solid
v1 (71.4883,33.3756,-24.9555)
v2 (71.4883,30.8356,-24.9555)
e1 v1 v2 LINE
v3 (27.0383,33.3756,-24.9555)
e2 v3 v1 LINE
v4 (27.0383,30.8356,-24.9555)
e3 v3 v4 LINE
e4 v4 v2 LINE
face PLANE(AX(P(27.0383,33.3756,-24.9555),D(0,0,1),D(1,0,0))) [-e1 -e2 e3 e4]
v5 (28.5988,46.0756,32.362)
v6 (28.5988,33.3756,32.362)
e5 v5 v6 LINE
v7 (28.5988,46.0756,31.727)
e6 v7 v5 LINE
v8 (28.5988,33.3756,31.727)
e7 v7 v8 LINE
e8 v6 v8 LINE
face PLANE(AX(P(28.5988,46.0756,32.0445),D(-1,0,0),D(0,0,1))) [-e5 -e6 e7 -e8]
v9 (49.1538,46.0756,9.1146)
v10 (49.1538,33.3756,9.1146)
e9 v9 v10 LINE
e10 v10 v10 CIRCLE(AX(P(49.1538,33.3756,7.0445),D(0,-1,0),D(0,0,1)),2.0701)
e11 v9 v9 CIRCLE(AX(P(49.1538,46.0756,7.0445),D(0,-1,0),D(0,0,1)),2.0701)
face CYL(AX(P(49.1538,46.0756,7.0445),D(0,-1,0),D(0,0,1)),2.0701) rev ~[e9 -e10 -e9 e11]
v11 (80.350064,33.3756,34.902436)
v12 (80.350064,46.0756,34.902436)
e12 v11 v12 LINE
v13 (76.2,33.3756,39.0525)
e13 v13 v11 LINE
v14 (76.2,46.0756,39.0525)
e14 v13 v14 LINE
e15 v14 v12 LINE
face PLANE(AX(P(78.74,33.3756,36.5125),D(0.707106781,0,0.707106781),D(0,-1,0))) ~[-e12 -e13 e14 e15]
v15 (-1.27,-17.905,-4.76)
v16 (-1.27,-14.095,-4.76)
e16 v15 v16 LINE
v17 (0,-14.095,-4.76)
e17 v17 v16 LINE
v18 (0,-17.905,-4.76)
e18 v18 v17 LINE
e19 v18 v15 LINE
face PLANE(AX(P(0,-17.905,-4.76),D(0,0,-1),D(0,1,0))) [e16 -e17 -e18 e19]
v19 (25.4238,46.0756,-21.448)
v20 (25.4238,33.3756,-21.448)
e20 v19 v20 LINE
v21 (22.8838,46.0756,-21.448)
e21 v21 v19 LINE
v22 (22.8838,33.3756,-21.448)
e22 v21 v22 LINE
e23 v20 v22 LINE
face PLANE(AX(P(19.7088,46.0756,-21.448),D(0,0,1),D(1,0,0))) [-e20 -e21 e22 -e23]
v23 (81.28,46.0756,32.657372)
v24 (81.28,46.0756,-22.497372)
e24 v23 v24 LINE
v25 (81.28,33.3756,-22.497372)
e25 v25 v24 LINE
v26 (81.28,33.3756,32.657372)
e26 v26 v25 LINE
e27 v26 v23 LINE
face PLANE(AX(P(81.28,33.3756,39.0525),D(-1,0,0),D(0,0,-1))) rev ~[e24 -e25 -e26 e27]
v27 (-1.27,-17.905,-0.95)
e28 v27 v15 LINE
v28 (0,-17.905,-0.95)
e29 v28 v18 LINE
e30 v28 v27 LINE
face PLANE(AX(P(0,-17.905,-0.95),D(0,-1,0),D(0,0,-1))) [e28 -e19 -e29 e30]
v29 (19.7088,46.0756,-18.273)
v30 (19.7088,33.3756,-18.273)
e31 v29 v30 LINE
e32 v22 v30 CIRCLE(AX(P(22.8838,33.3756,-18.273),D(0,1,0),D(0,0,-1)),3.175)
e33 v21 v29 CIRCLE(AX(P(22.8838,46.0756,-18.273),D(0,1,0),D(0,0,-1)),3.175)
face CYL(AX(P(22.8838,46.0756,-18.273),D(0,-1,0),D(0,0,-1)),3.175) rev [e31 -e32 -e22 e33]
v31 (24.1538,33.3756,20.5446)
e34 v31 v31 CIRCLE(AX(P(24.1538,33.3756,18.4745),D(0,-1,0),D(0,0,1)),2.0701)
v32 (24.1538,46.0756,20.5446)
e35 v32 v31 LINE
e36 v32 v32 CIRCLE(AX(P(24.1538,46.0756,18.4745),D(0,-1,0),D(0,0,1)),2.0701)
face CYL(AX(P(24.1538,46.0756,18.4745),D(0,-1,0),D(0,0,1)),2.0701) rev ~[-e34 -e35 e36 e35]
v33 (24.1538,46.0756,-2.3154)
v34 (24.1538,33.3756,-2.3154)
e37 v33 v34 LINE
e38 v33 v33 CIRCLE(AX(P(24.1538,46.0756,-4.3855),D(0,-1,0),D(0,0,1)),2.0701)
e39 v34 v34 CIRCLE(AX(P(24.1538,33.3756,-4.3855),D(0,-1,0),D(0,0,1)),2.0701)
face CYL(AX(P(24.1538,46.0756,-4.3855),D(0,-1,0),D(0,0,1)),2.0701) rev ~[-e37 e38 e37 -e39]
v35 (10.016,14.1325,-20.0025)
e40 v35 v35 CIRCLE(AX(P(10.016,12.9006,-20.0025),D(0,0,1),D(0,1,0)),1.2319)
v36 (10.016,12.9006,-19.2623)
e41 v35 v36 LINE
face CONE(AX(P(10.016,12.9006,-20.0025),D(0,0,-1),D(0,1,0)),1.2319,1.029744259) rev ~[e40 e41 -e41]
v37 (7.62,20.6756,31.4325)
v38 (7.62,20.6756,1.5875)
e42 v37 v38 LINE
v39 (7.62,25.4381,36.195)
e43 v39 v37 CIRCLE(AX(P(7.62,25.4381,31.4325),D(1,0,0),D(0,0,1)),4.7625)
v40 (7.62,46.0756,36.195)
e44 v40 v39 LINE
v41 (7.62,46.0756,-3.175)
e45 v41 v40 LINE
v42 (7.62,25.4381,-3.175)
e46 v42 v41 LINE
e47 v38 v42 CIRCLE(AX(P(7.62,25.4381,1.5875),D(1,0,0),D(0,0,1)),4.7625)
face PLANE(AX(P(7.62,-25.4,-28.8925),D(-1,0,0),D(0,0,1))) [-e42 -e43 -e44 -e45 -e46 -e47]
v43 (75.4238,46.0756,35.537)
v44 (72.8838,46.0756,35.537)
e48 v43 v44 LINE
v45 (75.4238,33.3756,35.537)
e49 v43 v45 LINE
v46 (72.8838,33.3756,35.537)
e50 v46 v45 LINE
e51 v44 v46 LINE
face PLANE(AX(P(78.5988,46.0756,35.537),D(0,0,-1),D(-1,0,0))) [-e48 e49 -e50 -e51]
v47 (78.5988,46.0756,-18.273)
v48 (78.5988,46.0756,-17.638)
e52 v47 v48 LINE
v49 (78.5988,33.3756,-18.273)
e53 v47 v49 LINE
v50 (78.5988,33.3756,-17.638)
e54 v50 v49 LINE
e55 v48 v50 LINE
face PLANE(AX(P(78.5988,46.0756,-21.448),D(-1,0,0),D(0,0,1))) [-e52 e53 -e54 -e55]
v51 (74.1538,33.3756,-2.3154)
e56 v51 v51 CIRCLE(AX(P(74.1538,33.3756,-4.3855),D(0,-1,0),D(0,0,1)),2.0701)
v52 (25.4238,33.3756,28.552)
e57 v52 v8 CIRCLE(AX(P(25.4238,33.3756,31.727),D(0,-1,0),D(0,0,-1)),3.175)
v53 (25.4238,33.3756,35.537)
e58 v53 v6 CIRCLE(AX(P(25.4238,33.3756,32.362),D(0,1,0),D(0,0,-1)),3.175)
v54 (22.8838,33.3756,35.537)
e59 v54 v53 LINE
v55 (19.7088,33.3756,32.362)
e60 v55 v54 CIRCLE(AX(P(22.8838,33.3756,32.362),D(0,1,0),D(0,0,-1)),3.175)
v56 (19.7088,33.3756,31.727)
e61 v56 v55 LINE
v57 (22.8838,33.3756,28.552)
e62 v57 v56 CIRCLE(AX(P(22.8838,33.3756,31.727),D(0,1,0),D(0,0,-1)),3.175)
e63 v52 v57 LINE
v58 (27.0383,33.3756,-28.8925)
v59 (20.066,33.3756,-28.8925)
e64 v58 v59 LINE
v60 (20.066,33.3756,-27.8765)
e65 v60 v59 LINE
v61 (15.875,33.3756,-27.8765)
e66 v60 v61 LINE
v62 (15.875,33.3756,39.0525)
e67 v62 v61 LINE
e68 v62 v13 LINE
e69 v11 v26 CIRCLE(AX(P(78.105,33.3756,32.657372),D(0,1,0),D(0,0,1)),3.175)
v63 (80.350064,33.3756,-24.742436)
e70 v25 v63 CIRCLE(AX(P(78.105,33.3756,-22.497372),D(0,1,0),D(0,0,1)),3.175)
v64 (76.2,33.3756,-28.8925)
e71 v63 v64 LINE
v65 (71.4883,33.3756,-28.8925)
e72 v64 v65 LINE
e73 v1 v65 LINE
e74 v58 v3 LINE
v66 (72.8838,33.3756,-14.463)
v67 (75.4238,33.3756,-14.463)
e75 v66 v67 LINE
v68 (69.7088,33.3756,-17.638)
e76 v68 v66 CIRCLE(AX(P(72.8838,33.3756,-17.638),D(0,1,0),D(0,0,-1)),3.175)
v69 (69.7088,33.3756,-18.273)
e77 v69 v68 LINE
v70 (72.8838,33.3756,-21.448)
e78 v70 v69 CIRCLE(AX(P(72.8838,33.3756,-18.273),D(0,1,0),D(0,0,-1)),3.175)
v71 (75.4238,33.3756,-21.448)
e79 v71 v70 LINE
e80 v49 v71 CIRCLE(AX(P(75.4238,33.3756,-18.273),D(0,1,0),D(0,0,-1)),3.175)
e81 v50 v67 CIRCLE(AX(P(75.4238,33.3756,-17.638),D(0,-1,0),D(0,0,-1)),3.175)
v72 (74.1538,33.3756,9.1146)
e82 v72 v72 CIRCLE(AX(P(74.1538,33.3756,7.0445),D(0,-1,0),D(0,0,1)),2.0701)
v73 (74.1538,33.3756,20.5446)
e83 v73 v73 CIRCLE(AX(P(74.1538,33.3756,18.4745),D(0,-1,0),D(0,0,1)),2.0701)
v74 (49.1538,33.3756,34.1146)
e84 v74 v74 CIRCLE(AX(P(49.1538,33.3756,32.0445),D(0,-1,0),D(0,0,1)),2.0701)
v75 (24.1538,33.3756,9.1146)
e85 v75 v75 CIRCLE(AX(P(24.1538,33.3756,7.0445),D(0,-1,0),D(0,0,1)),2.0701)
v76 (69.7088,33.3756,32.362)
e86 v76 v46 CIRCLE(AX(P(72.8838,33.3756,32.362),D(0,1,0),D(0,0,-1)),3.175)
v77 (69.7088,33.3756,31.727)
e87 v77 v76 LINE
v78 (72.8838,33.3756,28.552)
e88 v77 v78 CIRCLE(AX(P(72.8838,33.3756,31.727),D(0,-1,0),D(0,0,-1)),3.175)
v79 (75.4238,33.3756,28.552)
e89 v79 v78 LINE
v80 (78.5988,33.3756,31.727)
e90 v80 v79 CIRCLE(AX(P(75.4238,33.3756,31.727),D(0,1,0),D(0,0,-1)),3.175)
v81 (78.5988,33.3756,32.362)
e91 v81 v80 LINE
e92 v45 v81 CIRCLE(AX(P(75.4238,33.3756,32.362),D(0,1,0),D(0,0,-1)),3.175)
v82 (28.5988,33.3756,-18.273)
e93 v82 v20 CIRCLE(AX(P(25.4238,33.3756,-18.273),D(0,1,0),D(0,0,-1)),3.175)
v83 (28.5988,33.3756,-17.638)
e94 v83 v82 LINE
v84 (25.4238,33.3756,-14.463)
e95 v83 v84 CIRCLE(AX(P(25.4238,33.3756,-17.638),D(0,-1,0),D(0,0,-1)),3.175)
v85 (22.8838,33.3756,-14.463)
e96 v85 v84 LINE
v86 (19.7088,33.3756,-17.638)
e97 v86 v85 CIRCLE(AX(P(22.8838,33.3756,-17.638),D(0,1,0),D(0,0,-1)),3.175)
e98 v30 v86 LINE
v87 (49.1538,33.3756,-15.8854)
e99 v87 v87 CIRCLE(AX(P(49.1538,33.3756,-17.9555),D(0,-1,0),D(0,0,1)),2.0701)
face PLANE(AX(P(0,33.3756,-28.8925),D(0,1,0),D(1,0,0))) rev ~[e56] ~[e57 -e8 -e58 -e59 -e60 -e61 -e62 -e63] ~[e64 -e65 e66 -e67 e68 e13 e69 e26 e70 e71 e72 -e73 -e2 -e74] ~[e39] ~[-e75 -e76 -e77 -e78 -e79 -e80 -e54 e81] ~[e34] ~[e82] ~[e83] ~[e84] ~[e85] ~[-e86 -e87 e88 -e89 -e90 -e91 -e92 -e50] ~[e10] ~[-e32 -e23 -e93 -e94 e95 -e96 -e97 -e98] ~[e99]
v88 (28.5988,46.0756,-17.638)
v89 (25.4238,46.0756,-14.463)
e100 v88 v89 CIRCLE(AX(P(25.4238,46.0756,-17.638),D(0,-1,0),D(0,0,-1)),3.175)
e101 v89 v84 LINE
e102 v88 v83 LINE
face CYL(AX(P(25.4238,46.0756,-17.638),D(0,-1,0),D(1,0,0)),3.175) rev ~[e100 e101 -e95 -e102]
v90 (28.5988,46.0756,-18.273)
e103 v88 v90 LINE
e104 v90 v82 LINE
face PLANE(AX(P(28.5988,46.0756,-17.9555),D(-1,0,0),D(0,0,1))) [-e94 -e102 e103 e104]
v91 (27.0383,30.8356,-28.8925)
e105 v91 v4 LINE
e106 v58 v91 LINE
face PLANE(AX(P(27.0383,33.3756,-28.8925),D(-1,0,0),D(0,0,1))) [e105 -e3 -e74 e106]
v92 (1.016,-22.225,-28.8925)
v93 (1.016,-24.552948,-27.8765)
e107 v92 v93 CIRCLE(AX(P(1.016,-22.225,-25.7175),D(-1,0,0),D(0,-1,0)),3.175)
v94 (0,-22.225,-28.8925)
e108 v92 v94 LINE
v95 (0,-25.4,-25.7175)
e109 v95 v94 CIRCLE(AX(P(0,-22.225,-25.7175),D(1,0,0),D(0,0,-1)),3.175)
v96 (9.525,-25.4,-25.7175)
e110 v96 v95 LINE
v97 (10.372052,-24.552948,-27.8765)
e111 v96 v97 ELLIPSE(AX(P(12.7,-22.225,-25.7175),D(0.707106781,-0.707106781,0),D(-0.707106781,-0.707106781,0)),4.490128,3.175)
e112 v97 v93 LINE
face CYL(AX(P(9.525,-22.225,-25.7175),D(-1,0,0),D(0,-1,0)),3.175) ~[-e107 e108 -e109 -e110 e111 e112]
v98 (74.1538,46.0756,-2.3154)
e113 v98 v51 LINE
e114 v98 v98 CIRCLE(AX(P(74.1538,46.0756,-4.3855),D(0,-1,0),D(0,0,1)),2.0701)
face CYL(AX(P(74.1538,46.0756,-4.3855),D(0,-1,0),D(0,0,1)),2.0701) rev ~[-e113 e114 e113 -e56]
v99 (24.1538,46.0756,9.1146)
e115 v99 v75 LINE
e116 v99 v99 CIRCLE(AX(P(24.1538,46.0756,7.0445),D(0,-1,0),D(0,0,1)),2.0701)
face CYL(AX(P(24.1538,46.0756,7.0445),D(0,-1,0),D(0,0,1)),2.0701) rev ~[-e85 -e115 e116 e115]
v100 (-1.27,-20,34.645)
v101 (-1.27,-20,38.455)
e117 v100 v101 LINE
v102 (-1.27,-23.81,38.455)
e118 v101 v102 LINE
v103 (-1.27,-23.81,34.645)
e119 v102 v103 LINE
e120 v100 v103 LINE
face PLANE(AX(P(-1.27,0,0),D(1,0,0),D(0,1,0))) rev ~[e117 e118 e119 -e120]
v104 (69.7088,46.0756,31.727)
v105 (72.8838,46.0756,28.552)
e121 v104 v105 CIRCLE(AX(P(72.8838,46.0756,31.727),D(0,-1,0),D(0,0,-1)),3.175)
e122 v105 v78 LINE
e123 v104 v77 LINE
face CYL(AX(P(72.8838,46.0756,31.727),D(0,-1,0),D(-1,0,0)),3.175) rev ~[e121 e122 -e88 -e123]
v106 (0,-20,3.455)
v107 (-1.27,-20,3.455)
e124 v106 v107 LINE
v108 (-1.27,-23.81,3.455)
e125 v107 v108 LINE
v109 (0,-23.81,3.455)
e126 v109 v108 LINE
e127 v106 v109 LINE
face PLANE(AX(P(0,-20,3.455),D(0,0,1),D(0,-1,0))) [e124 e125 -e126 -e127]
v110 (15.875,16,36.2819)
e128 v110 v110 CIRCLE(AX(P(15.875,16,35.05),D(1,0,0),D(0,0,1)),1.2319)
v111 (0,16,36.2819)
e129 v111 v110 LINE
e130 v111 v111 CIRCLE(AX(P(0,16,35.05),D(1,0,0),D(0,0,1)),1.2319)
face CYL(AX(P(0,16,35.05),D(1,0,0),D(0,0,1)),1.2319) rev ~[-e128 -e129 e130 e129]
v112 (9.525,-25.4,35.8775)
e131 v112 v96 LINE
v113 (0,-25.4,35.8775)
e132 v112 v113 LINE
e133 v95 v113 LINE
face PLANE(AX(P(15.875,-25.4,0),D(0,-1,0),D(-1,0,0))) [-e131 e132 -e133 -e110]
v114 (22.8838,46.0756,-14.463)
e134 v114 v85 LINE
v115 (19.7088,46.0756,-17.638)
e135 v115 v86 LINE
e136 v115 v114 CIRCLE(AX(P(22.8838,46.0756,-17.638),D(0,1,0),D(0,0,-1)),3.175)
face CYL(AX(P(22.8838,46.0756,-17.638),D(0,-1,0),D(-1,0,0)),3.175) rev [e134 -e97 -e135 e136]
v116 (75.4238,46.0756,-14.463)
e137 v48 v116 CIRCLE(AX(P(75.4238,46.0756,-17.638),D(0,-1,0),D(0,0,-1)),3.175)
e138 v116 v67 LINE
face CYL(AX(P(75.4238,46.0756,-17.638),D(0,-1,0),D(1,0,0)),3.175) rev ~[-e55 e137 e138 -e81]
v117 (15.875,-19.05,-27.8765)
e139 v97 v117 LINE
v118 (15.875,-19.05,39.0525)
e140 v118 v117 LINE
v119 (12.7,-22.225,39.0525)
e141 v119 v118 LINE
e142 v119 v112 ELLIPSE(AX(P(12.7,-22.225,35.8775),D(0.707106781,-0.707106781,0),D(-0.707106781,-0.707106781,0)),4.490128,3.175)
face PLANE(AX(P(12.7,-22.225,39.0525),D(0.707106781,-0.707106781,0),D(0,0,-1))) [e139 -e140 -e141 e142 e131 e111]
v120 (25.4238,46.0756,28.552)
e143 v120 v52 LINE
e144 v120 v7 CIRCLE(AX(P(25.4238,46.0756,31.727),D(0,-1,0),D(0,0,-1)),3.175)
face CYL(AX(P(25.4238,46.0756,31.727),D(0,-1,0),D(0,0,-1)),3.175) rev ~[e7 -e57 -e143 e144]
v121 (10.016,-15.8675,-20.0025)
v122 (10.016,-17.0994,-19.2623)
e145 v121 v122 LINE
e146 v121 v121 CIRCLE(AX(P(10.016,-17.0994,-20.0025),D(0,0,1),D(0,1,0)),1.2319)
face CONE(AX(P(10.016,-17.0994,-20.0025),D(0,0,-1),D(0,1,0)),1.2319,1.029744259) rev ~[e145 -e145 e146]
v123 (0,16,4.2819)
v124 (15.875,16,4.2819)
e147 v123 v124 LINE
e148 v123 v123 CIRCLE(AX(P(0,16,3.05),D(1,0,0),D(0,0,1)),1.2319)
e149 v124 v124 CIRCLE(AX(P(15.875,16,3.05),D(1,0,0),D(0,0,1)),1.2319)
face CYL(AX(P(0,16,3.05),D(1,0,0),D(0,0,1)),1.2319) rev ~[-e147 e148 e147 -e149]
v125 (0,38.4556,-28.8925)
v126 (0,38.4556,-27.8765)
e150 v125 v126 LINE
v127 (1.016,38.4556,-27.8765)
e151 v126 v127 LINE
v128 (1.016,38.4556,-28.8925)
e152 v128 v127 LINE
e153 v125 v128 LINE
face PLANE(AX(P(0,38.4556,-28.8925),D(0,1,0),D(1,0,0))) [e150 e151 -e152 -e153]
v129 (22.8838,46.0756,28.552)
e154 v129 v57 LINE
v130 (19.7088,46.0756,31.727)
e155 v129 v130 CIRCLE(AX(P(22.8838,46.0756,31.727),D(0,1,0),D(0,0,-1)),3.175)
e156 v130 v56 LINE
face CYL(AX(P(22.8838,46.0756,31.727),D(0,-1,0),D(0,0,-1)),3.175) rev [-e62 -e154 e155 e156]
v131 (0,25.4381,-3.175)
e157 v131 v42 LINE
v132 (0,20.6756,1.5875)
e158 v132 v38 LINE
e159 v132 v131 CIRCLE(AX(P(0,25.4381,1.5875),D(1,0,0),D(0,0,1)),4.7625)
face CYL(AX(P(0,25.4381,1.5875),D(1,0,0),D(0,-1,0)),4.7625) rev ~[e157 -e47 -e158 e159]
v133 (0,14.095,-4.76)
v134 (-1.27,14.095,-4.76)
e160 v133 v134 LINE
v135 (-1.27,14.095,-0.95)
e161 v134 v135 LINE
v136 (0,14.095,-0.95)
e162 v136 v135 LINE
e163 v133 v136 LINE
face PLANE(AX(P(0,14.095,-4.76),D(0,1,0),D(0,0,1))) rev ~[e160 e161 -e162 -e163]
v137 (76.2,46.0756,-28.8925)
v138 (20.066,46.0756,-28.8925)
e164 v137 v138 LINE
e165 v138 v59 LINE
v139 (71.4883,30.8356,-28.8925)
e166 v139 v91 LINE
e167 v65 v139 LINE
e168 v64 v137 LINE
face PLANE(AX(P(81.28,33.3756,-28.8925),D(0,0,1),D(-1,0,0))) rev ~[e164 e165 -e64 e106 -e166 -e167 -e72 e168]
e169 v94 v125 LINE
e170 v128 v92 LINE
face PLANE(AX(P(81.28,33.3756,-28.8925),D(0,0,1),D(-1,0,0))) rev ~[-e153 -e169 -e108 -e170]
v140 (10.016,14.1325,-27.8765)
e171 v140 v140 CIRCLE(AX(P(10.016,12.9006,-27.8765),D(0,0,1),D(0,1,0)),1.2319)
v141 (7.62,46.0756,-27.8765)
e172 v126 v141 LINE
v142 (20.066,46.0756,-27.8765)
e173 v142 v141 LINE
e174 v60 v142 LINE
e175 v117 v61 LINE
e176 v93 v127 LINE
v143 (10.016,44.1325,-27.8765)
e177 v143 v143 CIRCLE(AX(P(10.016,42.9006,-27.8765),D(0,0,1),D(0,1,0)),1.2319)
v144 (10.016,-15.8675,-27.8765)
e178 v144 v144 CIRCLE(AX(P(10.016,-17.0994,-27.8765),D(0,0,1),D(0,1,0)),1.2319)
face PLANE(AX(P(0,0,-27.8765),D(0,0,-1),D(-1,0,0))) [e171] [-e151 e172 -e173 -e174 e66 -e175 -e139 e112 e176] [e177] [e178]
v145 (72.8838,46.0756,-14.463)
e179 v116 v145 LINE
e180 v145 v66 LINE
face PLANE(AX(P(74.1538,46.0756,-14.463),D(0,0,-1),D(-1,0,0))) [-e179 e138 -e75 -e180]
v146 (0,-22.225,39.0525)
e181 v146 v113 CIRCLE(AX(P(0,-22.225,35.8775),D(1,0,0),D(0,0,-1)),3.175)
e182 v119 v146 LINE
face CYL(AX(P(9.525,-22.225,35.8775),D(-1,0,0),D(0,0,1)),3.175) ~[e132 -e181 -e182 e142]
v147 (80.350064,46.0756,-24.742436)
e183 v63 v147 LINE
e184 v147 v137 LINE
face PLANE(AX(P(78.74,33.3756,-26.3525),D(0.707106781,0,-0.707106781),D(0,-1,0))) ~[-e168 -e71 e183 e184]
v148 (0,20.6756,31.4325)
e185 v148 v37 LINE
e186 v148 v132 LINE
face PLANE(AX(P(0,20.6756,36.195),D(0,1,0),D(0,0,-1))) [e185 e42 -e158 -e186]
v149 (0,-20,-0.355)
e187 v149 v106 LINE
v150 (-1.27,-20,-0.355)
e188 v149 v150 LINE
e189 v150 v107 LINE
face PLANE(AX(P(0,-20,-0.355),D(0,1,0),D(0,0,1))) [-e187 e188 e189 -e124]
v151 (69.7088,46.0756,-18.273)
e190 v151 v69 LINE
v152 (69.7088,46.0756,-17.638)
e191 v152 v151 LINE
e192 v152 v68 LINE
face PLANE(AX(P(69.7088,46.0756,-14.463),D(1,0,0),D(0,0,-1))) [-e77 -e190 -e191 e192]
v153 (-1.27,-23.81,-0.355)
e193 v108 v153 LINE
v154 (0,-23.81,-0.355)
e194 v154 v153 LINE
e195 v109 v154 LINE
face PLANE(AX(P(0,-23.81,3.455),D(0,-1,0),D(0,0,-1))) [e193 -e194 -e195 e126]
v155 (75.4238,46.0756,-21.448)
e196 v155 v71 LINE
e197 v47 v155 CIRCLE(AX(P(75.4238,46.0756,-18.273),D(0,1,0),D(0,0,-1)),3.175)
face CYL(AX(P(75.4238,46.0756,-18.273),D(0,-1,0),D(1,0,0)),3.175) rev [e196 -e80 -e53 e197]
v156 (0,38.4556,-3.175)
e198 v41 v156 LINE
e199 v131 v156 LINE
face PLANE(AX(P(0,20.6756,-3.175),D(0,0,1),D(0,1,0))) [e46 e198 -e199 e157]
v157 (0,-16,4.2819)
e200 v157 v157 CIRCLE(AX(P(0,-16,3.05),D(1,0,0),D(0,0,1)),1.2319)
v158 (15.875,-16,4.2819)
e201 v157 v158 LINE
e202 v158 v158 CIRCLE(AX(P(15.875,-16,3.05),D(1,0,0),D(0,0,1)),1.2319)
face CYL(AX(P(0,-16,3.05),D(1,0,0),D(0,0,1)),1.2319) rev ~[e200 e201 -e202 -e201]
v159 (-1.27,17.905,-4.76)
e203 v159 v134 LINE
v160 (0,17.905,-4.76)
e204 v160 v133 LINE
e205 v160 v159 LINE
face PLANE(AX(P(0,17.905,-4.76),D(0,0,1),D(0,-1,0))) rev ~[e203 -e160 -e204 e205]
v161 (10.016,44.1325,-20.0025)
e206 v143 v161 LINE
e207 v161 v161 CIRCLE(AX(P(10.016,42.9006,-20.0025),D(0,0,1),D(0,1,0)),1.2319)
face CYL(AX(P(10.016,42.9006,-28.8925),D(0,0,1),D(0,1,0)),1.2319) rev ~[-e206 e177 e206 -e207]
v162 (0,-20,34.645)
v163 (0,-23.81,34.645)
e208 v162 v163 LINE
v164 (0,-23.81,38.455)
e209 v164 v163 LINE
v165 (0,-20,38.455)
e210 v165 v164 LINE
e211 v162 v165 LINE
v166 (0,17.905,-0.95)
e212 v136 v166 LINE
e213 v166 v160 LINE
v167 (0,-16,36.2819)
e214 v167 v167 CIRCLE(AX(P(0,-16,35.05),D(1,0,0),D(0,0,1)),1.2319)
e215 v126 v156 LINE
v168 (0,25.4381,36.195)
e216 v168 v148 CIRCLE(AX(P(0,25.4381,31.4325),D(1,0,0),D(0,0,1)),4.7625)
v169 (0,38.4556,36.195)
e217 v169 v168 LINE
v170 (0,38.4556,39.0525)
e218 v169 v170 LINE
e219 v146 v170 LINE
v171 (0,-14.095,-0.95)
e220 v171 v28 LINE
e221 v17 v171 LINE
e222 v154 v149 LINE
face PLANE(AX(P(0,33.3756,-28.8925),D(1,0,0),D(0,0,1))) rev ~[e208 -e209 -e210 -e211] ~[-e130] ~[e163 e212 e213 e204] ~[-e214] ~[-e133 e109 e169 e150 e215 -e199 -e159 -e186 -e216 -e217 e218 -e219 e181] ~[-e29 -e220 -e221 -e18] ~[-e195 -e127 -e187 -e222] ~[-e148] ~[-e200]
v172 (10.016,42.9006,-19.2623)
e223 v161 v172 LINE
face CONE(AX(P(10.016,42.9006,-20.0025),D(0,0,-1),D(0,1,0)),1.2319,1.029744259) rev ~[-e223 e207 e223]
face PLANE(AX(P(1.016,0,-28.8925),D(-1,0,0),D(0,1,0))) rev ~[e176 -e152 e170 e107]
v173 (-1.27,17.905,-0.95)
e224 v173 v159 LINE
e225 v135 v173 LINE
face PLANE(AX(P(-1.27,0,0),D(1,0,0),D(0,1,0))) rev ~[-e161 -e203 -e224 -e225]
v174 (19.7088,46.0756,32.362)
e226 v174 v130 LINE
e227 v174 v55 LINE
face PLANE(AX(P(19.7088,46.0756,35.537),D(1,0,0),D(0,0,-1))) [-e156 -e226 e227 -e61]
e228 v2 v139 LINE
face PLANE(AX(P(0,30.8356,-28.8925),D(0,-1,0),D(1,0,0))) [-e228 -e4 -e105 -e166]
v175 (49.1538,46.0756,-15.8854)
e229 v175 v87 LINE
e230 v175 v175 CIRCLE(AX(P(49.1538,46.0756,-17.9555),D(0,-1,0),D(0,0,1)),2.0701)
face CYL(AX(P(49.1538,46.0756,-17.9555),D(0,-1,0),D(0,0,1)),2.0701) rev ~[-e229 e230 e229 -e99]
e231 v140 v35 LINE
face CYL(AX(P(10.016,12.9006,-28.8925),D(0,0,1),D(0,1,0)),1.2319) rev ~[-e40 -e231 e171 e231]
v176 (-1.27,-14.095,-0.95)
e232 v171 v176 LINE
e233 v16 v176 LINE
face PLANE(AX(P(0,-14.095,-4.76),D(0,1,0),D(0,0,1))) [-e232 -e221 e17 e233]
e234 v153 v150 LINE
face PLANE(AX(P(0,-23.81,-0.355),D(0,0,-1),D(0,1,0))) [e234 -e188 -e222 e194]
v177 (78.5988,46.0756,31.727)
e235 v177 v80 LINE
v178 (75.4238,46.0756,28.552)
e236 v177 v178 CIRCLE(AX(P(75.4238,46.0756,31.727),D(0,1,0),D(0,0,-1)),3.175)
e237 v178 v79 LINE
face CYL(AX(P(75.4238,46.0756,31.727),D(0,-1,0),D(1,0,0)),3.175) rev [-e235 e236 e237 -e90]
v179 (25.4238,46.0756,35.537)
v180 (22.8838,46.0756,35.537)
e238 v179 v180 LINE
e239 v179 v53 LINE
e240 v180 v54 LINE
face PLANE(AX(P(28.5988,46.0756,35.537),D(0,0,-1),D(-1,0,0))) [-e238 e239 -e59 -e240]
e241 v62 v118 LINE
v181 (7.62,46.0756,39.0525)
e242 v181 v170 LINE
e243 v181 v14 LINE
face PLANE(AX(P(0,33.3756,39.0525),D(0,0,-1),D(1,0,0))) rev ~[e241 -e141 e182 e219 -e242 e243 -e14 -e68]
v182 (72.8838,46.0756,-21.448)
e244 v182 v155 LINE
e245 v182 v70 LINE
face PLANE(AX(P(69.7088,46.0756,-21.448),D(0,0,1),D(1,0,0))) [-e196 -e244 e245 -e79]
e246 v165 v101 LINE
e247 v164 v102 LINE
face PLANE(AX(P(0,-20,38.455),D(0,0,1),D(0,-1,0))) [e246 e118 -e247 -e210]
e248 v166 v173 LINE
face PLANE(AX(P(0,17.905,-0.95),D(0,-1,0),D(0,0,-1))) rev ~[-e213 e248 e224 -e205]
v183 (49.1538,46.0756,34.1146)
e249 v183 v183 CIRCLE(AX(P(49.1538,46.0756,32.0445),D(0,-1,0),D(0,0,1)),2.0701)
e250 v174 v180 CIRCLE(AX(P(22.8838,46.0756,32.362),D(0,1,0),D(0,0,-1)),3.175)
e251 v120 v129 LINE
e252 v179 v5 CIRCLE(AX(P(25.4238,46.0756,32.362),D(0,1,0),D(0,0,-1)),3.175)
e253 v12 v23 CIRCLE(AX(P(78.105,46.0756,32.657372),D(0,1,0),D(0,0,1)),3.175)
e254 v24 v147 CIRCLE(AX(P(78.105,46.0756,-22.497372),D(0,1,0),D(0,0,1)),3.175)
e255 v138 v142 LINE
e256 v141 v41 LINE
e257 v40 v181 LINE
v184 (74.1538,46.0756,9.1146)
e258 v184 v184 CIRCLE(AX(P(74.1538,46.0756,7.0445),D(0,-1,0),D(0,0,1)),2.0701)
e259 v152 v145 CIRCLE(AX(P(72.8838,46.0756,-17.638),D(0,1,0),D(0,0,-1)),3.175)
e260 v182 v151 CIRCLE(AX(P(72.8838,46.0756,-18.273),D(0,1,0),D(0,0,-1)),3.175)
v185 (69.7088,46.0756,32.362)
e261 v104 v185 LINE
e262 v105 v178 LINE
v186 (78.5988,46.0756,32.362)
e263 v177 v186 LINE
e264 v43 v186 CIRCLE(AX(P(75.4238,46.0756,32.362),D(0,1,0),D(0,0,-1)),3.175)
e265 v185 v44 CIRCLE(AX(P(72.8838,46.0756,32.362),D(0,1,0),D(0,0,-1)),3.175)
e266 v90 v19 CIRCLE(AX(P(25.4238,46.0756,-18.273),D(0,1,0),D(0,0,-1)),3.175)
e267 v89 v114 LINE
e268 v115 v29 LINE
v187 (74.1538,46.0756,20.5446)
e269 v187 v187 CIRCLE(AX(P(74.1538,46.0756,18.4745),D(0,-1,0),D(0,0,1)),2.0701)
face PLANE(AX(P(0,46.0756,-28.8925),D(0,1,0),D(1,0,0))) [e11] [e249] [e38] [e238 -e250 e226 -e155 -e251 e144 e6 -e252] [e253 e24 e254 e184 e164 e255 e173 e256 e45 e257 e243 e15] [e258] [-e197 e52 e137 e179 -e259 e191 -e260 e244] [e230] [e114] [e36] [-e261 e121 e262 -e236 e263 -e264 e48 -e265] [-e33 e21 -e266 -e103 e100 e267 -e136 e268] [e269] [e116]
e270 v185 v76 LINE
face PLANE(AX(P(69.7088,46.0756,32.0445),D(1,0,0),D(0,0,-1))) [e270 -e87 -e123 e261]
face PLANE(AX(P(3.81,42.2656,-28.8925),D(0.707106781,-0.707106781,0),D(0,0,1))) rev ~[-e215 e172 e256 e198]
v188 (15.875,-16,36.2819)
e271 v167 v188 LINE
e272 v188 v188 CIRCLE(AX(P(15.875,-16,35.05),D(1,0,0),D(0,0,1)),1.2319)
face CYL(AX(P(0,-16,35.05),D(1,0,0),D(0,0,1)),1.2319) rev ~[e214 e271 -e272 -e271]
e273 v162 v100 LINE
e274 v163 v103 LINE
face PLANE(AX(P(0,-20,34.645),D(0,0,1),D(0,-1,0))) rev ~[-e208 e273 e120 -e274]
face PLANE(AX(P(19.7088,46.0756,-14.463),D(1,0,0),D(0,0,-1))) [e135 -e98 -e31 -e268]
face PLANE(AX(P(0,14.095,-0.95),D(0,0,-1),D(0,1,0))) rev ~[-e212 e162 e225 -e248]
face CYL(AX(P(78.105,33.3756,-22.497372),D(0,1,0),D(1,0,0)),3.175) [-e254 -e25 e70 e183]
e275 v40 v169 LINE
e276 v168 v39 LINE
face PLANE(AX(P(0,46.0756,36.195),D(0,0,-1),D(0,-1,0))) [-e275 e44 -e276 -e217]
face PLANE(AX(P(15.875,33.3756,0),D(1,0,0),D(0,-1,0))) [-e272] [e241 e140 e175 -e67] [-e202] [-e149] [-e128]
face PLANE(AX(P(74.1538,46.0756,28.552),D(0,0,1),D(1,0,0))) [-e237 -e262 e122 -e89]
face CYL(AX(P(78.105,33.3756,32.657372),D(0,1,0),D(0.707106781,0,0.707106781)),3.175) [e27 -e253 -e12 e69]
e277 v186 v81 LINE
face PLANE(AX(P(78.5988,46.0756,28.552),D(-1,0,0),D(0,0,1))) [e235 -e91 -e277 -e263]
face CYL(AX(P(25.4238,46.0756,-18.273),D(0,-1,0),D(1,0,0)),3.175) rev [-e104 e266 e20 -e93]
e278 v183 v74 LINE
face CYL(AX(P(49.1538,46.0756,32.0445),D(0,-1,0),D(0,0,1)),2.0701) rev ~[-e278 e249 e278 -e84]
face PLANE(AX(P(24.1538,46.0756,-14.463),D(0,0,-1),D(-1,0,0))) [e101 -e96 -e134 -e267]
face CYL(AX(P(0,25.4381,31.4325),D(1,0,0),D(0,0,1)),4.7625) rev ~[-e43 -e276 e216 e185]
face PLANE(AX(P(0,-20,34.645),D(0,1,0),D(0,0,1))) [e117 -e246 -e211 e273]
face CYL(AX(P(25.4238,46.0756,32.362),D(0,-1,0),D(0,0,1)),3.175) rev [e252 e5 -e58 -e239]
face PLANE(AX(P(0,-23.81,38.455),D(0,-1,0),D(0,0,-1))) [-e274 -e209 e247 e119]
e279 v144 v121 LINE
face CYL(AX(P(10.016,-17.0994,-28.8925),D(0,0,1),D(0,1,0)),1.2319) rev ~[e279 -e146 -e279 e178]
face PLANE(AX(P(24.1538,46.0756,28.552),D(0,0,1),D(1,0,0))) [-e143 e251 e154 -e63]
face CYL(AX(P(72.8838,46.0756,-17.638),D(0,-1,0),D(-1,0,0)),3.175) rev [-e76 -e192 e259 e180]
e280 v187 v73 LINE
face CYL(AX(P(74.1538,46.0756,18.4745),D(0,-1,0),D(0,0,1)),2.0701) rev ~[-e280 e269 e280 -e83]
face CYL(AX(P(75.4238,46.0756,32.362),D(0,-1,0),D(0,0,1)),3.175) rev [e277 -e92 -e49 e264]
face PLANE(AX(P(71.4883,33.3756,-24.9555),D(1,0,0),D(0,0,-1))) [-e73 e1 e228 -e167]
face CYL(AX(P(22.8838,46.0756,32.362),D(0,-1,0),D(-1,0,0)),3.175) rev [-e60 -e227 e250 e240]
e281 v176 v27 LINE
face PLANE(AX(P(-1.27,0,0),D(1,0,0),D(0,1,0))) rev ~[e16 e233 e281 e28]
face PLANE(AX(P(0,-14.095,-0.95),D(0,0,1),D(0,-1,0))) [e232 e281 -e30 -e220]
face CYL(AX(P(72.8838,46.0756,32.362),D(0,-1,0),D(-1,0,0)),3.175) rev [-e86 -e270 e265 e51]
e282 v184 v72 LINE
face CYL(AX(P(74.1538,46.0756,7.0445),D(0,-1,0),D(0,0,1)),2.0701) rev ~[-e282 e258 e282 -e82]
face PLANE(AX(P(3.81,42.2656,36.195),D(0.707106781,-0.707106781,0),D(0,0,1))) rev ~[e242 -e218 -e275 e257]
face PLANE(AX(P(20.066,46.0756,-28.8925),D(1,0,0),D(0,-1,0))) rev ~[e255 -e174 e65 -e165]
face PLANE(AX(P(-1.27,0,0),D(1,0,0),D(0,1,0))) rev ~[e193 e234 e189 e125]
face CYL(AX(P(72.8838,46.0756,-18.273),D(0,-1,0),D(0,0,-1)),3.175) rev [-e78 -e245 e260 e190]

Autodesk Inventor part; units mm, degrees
ref_plane "YZ Plane" through (0, 0, 0) normal (1, 0, 0) x (0, 1, 0)
ref_plane "XZ Plane" through (0, 0, 0) normal (0, 1, 0) x (-1, 0, 0)
ref_plane "XY Plane" through (0, 0, 0) normal (0, 0, 1) x (1, 0, 0)
sketch "Sketch1" plane through (0, 0, 0) normal (0, 0, 1) x (1, 0, 0)
  line L0 (0, 45.1307) -> (0, -37.1551) projected
  line L1 (-35.56, 0) -> (35.56, 0) projected
  line L2 (25.4, 25.4) -> (25.4, -25.4) construction
  line L3 (25.4, -25.4) -> (-25.4, -25.4) construction
  line L4 (-25.4, -25.4) -> (-25.4, 25.4) construction
  line L5 (0, 33.3756) -> (15.875, 33.3756)
  line L6 (15.875, 33.3756) -> (15.875, -25.4)
  line L7 (15.875, -25.4) -> (0, -25.4)
  line L8 (0, -25.4) -> (0, 33.3756)
  point P0 (0, 0)
  point P1 (-25.4, 0)
  point P2 (0, -25.4)
  point P3 (0, 3.9878)
  dimension "d0" = 50.8
  dimension "d1" = 50.8
  dimension "d39" = 25.4
  dimension "d41" = 33.3756
  dimension "d76" = 15.875
  dimension "d77" = 0
extrude "Extrusion1" add sketch "Sketch1" along normal blind 39.0525 and the other way blind 28.8925
sketch "Sketch2" plane through (0, 33.3756, -28.8925) normal (0, 1, 0) x (1, 0, 0)
  line L0 (0, 0) -> (0, -67.945) projected
  line L1 (0, -67.945) -> (81.28, -67.945)
  line L2 (81.28, -67.945) -> (81.28, 0)
  line L3 (81.28, 0) -> (0, 0)
  line L4 (0, 0) -> (0, -67.945)
  dimension "d17" = 81.28
  dimension "d131" = 0
extrude "Extrusion2" add sketch "Sketch2" along normal blind 12.7
sketch "Sketch4" plane through (0, 33.3756, -28.8925) normal (0, -1, 0) x (1, 0, 0)
  line L0 (81.28, 0) -> (15.875, 0) projected
  line L1 (81.28, 67.945) -> (81.28, 0) projected
  line L2 (71.4883, 0) -> (27.0383, 0)
  line L3 (27.0383, 0) -> (27.0383, 3.937)
  line L4 (27.0383, 3.937) -> (71.4883, 3.937)
  line L5 (-17.272, 28.8925) -> (103.632, 28.8925) projected
  line L6 (71.4883, 3.937) -> (71.4883, 0)
  line L7 (0, 90.043) -> (0, -64.643) projected
  line L8 (49.2633, 3.937) -> (49.2633, 0) construction
  line L9 (15.875, 67.945) -> (15.875, 0) projected
  point P0 (0, 28.8925)
  point P1 (0, -42.545)
  dimension "d64" = 24.9555
  dimension "d65" = 44.45
  dimension "d67" = 49.2633
  dimension "d80" = 11.1633
extrude "Extrusion4" add sketch "Sketch4" along normal blind 2.54 contours L0 L3 L4 L6
sketch "Sketch6" plane through (0, 46.0756, -28.8925) normal (0, 1, 0) x (1, 0, 0)
  line L0 (74.1538, -60.937) -> (24.1538, -60.937)
  line L1 (24.1538, -60.937) -> (24.1538, -10.937)
  line L2 (24.1538, -10.937) -> (74.1538, -10.937)
  line L3 (74.1538, -10.937) -> (74.1538, -60.937)
  line L4 (24.1538, -35.937) -> (74.1538, -35.937) construction
  line L5 (49.1538, -10.937) -> (49.1538, -60.937) construction
  line L6 (27.0383, -3.937) -> (71.4883, -3.937) construction
  line L7 (0, 13.589) -> (0, -81.534) construction
  line L8 (19.7088, -7.4445) -> (28.5988, -7.4445)
  line L9 (28.5988, -7.4445) -> (28.5988, -14.4295)
  line L10 (28.5988, -14.4295) -> (19.7088, -14.4295)
  line L11 (19.7088, -14.4295) -> (19.7088, -7.4445)
  line L12 (69.7088, -7.4445) -> (78.5988, -7.4445)
  line L13 (78.5988, -7.4445) -> (78.5988, -14.4295)
  line L14 (78.5988, -14.4295) -> (69.7088, -14.4295)
  line L15 (69.7088, -14.4295) -> (69.7088, -7.4445)
  line L16 (19.7088, -57.4445) -> (28.5988, -57.4445)
  line L17 (28.5988, -57.4445) -> (28.5988, -64.4295)
  line L18 (28.5988, -64.4295) -> (19.7088, -64.4295)
  line L19 (19.7088, -64.4295) -> (19.7088, -57.4445)
  line L20 (69.7088, -57.4445) -> (78.5988, -57.4445)
  line L21 (78.5988, -57.4445) -> (78.5988, -64.4295)
  line L22 (78.5988, -64.4295) -> (69.7088, -64.4295)
  line L23 (69.7088, -64.4295) -> (69.7088, -57.4445)
  line L24 (99.06, -28.8925) -> (-16.51, -28.8925) projected
  point P0 (0, -28.8925)
  point P1 (19.7088, -10.937)
  point P2 (24.1538, -7.4445)
  point P3 (69.7088, -10.937)
  point P4 (74.1538, -7.4445)
  point P5 (19.7088, -60.937)
  point P6 (24.1538, -57.4445)
  point P7 (69.7088, -60.937)
  point P8 (74.1538, -57.4445)
  point P9 (81.28, -3.937)
  point P10 (15.875, -3.937)
  dimension "d46" = 50
  dimension "d47" = 50
  dimension "d51" = 49.1538
  dimension "d52" = 6.985
  dimension "d53" = 8.89
  dimension "d54" = 6.985
  dimension "d62" = 17.9555
  dimension "d63" = 7
extrude "Extrusion6" cut sketch "Sketch6" against normal up to next contours L3 L20 L21 L22 L23 L0 | L0 L23 L20 L3 | L17 L18 L19 L16 L1 L0 | L0 L1 L16 L17 | L14 L15 L2 L3 | L3 L2 L15 L12 L13 L14 | L10 L11 L8 L9 L2 L1 | L1 L2 L9 L10
fillet "Fillet2" radius 3.175 16 edges at (28.5988, 39.7256, -14.463) (28.5988, 39.7256, -21.448) (19.7088, 39.7256, -21.448) (19.7088, 39.7256, -14.463) (28.5988, 39.7256, 28.552) (28.5988, 39.7256, 35.537) (19.7088, 39.7256, 35.537) (19.7088, 39.7256, 28.552) (69.7088, 39.7256, 35.537) (69.7088, 39.7256, 28.552) (78.5988, 39.7256, 28.552) (78.5988, 39.7256, 35.537) (69.7088, 39.7256, -14.463) (69.7088, 39.7256, -21.448) (78.5988, 39.7256, -21.448) (78.5988, 39.7256, -14.463)
sketch "Sketch8" plane through (0, 0, 0) normal (1, 0, 0) x (0, 1, 0)
  line L0 (16, 3.05) -> (-16, 3.05) construction
  line L1 (-16, 3.05) -> (-16, 35.05) construction
  line L2 (-16, 35.05) -> (16, 35.05) construction
  line L3 (16, 35.05) -> (16, 3.05) construction
  point P0 (0, 0)
  dimension "d81" = 32
  dimension "d82" = 32
  dimension "d84" = 35.05
  dimension "d85" = 16
hole "Hole3" at (0, 16, 3.05) at (0, 16, 35.05) at (0, -16, 35.05) at (0, -16, 3.05) direction (1, 0, 0) diameter 2.4638 end through all
sketch "Sketch9" plane through (0, 0, 0) normal (1, 0, 0) x (0, 1, 0)
  line L0 (17.905, -4.76) -> (14.095, -4.76)
  line L1 (14.095, -4.76) -> (14.095, -0.95)
  line L2 (14.095, -0.95) -> (17.905, -0.95)
  line L3 (17.905, -0.95) -> (17.905, -4.76)
  line L4 (-20, 38.455) -> (-23.81, 38.455)
  line L5 (-23.81, -0.355) -> (-20, -0.355)
  line L6 (-20, 3.455) -> (-23.81, 3.455)
  line L7 (-20, 34.645) -> (-23.81, 34.645)
  line L8 (-20, -0.355) -> (-20, 3.455)
  line L9 (-20, 34.645) -> (-20, 38.455) construction
  line L10 (-23.81, 38.455) -> (-23.81, 34.645)
  line L11 (-23.81, 3.455) -> (-23.81, -0.355)
  line L12 (-20, 1.55) -> (-23.81, 1.55) construction
  line L13 (-20, 36.55) -> (-23.81, 36.55) construction
  line L14 (0, 0) -> (34.4542, 0) construction
  line L15 (0, 0) -> (35.5729, 0) construction
  line L16 (-35.6866, 0) -> (47.4495, 0) construction
  line L17 (16, -0.95) -> (16, -4.76) construction
  line L18 (-14.095, -0.95) -> (-17.905, -0.95)
  line L19 (-17.905, -0.95) -> (-17.905, -4.76)
  line L20 (-17.905, -4.76) -> (-14.095, -4.76)
  line L21 (-14.095, -4.76) -> (-14.095, -0.95)
  line L22 (-16, -0.95) -> (-16, -4.76) construction
  line L23 (-20, 34.645) -> (-20, 38.455)
  dimension "d94" = 3.81
  dimension "d95" = 3.81
  dimension "d97" = 3.81
  dimension "d103" = 3.81
  dimension "d104" = 3.81
  dimension "d105" = 3.81
  dimension "d106" = 0
  dimension "d107" = 20
  dimension "d109" = 36.55
  dimension "d110" = 16
  dimension "d112" = 16
  dimension "d113" = 3.81
  dimension "d114" = 3.81
  dimension "d116" = 2.095
  dimension "d132" = 35
  dimension "d133" = 39.405
  dimension "d134" = 39.405
extrude "Extrusion7" add sketch "Sketch9" against normal blind 1.27
sketch "Sketch10" plane through (0, -25.4, -28.8925) normal (-1, 0, 0) x (0, 0, 1)
  line L0 (25.7175, 71.4756) -> (65.0875, 71.4756)
  line L1 (65.0875, 71.4756) -> (65.0875, 46.0756)
  line L2 (65.0875, 46.0756) -> (25.7175, 46.0756)
  line L3 (25.7175, 46.0756) -> (25.7175, 71.4756)
  line L4 (67.945, 71.4756) -> (0, 71.4756) projected
  point P0 (28.8925, 25.4)
  dimension "d117" = 0
  dimension "d120" = 25.4
  dimension "d137" = 36.195
  dimension "d138" = 3.175
extrude "Extrusion8" cut sketch "Sketch10" against normal blind 7.62
chamfer "Chamfer3" distance 7.62 angle 45 2 edges at (0, 46.0756, -16.0338) (0, 46.0756, 37.6238)
fillet "Fillet4" radius 4.7625 2 edges at (3.81, 20.6756, 36.195) (3.81, 20.6756, -3.175)
chamfer "Chamfer4" distance 6.35 angle 45 1 edges at (15.875, -25.4, 5.08)
sketch "Sketch11" plane through (0, 46.0756, -28.8925) normal (0, 1, 0) x (1, 0, 0)
  line L0 (0, 13.589) -> (0, -81.534) projected
  line L1 (97.536, -28.8925) -> (-16.256, -28.8925) projected
  line L2 (75.4238, -64.4295) -> (72.8838, -64.4295) projected
  line L3 (72.8838, -57.4445) -> (75.4238, -57.4445) projected
  line L4 (75.4238, -14.4295) -> (72.8838, -14.4295) projected
  line L5 (72.8838, -7.4445) -> (75.4238, -7.4445) projected
  line L6 (22.8838, -7.4445) -> (25.4238, -7.4445) projected
  line L7 (25.4238, -14.4295) -> (22.8838, -14.4295) projected
  line L8 (22.8838, -57.4445) -> (25.4238, -57.4445) projected
  line L9 (25.4238, -64.4295) -> (22.8838, -64.4295) projected
  line L10 (72.8838, -64.4295) -> (75.4238, -64.4295) construction
  line L11 (74.1538, -64.4295) -> (74.1538, -57.4445) construction
  line L12 (22.8838, -64.4295) -> (25.4238, -64.4295) construction
  line L13 (24.1538, -64.4295) -> (24.1538, -57.4445) construction
  line L14 (25.4238, -57.4445) -> (22.8838, -57.4445) construction
  line L15 (72.8838, -14.4295) -> (75.4238, -14.4295) construction
  line L16 (74.1538, -14.4295) -> (74.1538, -7.4445) construction
  line L17 (22.8838, -14.4295) -> (25.4238, -14.4295) construction
  line L18 (24.1538, -14.4295) -> (24.1538, -7.4445) construction
  line L19 (74.1538, -60.937) -> (24.1538, -60.937) construction
  line L20 (74.1538, -10.937) -> (24.1538, -10.937) construction
  line L21 (74.1538, -57.4445) -> (74.1538, -14.4295) construction
  line L22 (24.1538, -57.4445) -> (24.1538, -14.4295) construction
  line L23 (74.1538, -35.937) -> (24.1538, -35.937) construction
  circle A0 centre (74.1538, -60.937) radius 6.5 construction
  circle A1 centre (74.1538, -47.367) radius 5.8 construction
  point P0 (0, -28.8925)
  point P1 (49.1538, -60.937)
  point P2 (49.1538, -10.937)
  point P3 (74.1538, -24.507)
  point P4 (24.1538, -24.507)
  point P5 (24.1538, -47.367)
  point P6 (49.1538, -35.937)
  dimension "d145" = 11.43
  dimension "d146" = 11.43
  dimension "d147" = 11.43
  dimension "d148" = 11.43
  dimension "d149" = 13
  dimension "d150" = 11.6
hole "Hole4" at (74.1538, 46.0756, 18.4745) at (74.1538, 46.0756, 7.0445) at (74.1538, 46.0756, -4.3855) at (49.1538, 46.0756, -17.9555) at (49.1538, 46.0756, 7.0445) at (49.1538, 46.0756, 32.0445) at (24.1538, 46.0756, 18.4745) at (24.1538, 46.0756, 7.0445) at (24.1538, 46.0756, -4.3855) direction (0, -1, 0) diameter 4.1402 end through all
fillet "Fillet5" radius 3.175 2 edges at (4.7625, -25.4, 39.0525) (4.7625, -25.4, -28.8925)
chamfer "Chamfer5" distance 5.08 angle 45 2 edges at (81.28, 39.7256, -28.8925) (81.28, 39.7256, 39.0525)
fillet "Fillet7" radius 3.175 2 edges at (81.28, 39.7256, 33.9725) (81.28, 39.7256, -23.8125)
sketch "Sketch12" plane through (0, 0, -28.8925) normal (0, 0, -1) x (-1, 0, 0)
  line L0 (0, -39.6951) -> (0, 60.3707) projected
  line L1 (-97.79, 0) -> (17.78, 0) projected
  line L2 (-9.525, -25.4) -> (0, -25.4) projected
  line L3 (-7.62, 46.0756) -> (-74.8849, 46.0756) projected
  line L4 (-1.016, 46.0756) -> (-20.066, 46.0756)
  line L5 (-20.066, 46.0756) -> (-20.066, -25.4)
  line L6 (-20.066, -25.4) -> (-1.016, -25.4)
  line L7 (-1.016, -25.4) -> (-1.016, 46.0756)
  line L8 (-7.62, 46.0756) -> (0, 38.4556) projected
  line L9 (0, 38.4556) -> (-1.016, 38.4556)
  line L10 (-1.016, 38.4556) -> (-1.016, 39.4716)
  line L11 (-1.016, 39.4716) -> (0, 39.4716)
  line L12 (0, 39.4716) -> (0, 38.4556)
  point P0 (0, 0)
  point P1 (-10.016, 42.9006)
  point P2 (-10.016, 12.9006)
  point P3 (-10.016, -17.0994)
  dimension "d158" = 19.05
  dimension "d159" = 0
  dimension "d160" = 1.016
  dimension "d161" = 0
  dimension "d164" = 30
  dimension "d165" = 71.4756
  dimension "d166" = 9
  dimension "d167" = 30
  dimension "d168" = 3.175
extrude "Extrusion9" cut sketch "Sketch12" against normal blind 1.016 contours L9 L7 L8 | L8 L4 L7 | L7 L1 L5 L3 L8 | L7 L2 L6 L5 L1
hole "Hole5" at (10.016, 42.9006, -28.8925) at (10.016, 12.9006, -28.8925) at (10.016, -17.0994, -28.8925) direction (0, 0, 1) diameter 2.4638 depth 8.89 tip angle 118
properties part number "J003053" material "ALUMINUM, 6061-T651"
